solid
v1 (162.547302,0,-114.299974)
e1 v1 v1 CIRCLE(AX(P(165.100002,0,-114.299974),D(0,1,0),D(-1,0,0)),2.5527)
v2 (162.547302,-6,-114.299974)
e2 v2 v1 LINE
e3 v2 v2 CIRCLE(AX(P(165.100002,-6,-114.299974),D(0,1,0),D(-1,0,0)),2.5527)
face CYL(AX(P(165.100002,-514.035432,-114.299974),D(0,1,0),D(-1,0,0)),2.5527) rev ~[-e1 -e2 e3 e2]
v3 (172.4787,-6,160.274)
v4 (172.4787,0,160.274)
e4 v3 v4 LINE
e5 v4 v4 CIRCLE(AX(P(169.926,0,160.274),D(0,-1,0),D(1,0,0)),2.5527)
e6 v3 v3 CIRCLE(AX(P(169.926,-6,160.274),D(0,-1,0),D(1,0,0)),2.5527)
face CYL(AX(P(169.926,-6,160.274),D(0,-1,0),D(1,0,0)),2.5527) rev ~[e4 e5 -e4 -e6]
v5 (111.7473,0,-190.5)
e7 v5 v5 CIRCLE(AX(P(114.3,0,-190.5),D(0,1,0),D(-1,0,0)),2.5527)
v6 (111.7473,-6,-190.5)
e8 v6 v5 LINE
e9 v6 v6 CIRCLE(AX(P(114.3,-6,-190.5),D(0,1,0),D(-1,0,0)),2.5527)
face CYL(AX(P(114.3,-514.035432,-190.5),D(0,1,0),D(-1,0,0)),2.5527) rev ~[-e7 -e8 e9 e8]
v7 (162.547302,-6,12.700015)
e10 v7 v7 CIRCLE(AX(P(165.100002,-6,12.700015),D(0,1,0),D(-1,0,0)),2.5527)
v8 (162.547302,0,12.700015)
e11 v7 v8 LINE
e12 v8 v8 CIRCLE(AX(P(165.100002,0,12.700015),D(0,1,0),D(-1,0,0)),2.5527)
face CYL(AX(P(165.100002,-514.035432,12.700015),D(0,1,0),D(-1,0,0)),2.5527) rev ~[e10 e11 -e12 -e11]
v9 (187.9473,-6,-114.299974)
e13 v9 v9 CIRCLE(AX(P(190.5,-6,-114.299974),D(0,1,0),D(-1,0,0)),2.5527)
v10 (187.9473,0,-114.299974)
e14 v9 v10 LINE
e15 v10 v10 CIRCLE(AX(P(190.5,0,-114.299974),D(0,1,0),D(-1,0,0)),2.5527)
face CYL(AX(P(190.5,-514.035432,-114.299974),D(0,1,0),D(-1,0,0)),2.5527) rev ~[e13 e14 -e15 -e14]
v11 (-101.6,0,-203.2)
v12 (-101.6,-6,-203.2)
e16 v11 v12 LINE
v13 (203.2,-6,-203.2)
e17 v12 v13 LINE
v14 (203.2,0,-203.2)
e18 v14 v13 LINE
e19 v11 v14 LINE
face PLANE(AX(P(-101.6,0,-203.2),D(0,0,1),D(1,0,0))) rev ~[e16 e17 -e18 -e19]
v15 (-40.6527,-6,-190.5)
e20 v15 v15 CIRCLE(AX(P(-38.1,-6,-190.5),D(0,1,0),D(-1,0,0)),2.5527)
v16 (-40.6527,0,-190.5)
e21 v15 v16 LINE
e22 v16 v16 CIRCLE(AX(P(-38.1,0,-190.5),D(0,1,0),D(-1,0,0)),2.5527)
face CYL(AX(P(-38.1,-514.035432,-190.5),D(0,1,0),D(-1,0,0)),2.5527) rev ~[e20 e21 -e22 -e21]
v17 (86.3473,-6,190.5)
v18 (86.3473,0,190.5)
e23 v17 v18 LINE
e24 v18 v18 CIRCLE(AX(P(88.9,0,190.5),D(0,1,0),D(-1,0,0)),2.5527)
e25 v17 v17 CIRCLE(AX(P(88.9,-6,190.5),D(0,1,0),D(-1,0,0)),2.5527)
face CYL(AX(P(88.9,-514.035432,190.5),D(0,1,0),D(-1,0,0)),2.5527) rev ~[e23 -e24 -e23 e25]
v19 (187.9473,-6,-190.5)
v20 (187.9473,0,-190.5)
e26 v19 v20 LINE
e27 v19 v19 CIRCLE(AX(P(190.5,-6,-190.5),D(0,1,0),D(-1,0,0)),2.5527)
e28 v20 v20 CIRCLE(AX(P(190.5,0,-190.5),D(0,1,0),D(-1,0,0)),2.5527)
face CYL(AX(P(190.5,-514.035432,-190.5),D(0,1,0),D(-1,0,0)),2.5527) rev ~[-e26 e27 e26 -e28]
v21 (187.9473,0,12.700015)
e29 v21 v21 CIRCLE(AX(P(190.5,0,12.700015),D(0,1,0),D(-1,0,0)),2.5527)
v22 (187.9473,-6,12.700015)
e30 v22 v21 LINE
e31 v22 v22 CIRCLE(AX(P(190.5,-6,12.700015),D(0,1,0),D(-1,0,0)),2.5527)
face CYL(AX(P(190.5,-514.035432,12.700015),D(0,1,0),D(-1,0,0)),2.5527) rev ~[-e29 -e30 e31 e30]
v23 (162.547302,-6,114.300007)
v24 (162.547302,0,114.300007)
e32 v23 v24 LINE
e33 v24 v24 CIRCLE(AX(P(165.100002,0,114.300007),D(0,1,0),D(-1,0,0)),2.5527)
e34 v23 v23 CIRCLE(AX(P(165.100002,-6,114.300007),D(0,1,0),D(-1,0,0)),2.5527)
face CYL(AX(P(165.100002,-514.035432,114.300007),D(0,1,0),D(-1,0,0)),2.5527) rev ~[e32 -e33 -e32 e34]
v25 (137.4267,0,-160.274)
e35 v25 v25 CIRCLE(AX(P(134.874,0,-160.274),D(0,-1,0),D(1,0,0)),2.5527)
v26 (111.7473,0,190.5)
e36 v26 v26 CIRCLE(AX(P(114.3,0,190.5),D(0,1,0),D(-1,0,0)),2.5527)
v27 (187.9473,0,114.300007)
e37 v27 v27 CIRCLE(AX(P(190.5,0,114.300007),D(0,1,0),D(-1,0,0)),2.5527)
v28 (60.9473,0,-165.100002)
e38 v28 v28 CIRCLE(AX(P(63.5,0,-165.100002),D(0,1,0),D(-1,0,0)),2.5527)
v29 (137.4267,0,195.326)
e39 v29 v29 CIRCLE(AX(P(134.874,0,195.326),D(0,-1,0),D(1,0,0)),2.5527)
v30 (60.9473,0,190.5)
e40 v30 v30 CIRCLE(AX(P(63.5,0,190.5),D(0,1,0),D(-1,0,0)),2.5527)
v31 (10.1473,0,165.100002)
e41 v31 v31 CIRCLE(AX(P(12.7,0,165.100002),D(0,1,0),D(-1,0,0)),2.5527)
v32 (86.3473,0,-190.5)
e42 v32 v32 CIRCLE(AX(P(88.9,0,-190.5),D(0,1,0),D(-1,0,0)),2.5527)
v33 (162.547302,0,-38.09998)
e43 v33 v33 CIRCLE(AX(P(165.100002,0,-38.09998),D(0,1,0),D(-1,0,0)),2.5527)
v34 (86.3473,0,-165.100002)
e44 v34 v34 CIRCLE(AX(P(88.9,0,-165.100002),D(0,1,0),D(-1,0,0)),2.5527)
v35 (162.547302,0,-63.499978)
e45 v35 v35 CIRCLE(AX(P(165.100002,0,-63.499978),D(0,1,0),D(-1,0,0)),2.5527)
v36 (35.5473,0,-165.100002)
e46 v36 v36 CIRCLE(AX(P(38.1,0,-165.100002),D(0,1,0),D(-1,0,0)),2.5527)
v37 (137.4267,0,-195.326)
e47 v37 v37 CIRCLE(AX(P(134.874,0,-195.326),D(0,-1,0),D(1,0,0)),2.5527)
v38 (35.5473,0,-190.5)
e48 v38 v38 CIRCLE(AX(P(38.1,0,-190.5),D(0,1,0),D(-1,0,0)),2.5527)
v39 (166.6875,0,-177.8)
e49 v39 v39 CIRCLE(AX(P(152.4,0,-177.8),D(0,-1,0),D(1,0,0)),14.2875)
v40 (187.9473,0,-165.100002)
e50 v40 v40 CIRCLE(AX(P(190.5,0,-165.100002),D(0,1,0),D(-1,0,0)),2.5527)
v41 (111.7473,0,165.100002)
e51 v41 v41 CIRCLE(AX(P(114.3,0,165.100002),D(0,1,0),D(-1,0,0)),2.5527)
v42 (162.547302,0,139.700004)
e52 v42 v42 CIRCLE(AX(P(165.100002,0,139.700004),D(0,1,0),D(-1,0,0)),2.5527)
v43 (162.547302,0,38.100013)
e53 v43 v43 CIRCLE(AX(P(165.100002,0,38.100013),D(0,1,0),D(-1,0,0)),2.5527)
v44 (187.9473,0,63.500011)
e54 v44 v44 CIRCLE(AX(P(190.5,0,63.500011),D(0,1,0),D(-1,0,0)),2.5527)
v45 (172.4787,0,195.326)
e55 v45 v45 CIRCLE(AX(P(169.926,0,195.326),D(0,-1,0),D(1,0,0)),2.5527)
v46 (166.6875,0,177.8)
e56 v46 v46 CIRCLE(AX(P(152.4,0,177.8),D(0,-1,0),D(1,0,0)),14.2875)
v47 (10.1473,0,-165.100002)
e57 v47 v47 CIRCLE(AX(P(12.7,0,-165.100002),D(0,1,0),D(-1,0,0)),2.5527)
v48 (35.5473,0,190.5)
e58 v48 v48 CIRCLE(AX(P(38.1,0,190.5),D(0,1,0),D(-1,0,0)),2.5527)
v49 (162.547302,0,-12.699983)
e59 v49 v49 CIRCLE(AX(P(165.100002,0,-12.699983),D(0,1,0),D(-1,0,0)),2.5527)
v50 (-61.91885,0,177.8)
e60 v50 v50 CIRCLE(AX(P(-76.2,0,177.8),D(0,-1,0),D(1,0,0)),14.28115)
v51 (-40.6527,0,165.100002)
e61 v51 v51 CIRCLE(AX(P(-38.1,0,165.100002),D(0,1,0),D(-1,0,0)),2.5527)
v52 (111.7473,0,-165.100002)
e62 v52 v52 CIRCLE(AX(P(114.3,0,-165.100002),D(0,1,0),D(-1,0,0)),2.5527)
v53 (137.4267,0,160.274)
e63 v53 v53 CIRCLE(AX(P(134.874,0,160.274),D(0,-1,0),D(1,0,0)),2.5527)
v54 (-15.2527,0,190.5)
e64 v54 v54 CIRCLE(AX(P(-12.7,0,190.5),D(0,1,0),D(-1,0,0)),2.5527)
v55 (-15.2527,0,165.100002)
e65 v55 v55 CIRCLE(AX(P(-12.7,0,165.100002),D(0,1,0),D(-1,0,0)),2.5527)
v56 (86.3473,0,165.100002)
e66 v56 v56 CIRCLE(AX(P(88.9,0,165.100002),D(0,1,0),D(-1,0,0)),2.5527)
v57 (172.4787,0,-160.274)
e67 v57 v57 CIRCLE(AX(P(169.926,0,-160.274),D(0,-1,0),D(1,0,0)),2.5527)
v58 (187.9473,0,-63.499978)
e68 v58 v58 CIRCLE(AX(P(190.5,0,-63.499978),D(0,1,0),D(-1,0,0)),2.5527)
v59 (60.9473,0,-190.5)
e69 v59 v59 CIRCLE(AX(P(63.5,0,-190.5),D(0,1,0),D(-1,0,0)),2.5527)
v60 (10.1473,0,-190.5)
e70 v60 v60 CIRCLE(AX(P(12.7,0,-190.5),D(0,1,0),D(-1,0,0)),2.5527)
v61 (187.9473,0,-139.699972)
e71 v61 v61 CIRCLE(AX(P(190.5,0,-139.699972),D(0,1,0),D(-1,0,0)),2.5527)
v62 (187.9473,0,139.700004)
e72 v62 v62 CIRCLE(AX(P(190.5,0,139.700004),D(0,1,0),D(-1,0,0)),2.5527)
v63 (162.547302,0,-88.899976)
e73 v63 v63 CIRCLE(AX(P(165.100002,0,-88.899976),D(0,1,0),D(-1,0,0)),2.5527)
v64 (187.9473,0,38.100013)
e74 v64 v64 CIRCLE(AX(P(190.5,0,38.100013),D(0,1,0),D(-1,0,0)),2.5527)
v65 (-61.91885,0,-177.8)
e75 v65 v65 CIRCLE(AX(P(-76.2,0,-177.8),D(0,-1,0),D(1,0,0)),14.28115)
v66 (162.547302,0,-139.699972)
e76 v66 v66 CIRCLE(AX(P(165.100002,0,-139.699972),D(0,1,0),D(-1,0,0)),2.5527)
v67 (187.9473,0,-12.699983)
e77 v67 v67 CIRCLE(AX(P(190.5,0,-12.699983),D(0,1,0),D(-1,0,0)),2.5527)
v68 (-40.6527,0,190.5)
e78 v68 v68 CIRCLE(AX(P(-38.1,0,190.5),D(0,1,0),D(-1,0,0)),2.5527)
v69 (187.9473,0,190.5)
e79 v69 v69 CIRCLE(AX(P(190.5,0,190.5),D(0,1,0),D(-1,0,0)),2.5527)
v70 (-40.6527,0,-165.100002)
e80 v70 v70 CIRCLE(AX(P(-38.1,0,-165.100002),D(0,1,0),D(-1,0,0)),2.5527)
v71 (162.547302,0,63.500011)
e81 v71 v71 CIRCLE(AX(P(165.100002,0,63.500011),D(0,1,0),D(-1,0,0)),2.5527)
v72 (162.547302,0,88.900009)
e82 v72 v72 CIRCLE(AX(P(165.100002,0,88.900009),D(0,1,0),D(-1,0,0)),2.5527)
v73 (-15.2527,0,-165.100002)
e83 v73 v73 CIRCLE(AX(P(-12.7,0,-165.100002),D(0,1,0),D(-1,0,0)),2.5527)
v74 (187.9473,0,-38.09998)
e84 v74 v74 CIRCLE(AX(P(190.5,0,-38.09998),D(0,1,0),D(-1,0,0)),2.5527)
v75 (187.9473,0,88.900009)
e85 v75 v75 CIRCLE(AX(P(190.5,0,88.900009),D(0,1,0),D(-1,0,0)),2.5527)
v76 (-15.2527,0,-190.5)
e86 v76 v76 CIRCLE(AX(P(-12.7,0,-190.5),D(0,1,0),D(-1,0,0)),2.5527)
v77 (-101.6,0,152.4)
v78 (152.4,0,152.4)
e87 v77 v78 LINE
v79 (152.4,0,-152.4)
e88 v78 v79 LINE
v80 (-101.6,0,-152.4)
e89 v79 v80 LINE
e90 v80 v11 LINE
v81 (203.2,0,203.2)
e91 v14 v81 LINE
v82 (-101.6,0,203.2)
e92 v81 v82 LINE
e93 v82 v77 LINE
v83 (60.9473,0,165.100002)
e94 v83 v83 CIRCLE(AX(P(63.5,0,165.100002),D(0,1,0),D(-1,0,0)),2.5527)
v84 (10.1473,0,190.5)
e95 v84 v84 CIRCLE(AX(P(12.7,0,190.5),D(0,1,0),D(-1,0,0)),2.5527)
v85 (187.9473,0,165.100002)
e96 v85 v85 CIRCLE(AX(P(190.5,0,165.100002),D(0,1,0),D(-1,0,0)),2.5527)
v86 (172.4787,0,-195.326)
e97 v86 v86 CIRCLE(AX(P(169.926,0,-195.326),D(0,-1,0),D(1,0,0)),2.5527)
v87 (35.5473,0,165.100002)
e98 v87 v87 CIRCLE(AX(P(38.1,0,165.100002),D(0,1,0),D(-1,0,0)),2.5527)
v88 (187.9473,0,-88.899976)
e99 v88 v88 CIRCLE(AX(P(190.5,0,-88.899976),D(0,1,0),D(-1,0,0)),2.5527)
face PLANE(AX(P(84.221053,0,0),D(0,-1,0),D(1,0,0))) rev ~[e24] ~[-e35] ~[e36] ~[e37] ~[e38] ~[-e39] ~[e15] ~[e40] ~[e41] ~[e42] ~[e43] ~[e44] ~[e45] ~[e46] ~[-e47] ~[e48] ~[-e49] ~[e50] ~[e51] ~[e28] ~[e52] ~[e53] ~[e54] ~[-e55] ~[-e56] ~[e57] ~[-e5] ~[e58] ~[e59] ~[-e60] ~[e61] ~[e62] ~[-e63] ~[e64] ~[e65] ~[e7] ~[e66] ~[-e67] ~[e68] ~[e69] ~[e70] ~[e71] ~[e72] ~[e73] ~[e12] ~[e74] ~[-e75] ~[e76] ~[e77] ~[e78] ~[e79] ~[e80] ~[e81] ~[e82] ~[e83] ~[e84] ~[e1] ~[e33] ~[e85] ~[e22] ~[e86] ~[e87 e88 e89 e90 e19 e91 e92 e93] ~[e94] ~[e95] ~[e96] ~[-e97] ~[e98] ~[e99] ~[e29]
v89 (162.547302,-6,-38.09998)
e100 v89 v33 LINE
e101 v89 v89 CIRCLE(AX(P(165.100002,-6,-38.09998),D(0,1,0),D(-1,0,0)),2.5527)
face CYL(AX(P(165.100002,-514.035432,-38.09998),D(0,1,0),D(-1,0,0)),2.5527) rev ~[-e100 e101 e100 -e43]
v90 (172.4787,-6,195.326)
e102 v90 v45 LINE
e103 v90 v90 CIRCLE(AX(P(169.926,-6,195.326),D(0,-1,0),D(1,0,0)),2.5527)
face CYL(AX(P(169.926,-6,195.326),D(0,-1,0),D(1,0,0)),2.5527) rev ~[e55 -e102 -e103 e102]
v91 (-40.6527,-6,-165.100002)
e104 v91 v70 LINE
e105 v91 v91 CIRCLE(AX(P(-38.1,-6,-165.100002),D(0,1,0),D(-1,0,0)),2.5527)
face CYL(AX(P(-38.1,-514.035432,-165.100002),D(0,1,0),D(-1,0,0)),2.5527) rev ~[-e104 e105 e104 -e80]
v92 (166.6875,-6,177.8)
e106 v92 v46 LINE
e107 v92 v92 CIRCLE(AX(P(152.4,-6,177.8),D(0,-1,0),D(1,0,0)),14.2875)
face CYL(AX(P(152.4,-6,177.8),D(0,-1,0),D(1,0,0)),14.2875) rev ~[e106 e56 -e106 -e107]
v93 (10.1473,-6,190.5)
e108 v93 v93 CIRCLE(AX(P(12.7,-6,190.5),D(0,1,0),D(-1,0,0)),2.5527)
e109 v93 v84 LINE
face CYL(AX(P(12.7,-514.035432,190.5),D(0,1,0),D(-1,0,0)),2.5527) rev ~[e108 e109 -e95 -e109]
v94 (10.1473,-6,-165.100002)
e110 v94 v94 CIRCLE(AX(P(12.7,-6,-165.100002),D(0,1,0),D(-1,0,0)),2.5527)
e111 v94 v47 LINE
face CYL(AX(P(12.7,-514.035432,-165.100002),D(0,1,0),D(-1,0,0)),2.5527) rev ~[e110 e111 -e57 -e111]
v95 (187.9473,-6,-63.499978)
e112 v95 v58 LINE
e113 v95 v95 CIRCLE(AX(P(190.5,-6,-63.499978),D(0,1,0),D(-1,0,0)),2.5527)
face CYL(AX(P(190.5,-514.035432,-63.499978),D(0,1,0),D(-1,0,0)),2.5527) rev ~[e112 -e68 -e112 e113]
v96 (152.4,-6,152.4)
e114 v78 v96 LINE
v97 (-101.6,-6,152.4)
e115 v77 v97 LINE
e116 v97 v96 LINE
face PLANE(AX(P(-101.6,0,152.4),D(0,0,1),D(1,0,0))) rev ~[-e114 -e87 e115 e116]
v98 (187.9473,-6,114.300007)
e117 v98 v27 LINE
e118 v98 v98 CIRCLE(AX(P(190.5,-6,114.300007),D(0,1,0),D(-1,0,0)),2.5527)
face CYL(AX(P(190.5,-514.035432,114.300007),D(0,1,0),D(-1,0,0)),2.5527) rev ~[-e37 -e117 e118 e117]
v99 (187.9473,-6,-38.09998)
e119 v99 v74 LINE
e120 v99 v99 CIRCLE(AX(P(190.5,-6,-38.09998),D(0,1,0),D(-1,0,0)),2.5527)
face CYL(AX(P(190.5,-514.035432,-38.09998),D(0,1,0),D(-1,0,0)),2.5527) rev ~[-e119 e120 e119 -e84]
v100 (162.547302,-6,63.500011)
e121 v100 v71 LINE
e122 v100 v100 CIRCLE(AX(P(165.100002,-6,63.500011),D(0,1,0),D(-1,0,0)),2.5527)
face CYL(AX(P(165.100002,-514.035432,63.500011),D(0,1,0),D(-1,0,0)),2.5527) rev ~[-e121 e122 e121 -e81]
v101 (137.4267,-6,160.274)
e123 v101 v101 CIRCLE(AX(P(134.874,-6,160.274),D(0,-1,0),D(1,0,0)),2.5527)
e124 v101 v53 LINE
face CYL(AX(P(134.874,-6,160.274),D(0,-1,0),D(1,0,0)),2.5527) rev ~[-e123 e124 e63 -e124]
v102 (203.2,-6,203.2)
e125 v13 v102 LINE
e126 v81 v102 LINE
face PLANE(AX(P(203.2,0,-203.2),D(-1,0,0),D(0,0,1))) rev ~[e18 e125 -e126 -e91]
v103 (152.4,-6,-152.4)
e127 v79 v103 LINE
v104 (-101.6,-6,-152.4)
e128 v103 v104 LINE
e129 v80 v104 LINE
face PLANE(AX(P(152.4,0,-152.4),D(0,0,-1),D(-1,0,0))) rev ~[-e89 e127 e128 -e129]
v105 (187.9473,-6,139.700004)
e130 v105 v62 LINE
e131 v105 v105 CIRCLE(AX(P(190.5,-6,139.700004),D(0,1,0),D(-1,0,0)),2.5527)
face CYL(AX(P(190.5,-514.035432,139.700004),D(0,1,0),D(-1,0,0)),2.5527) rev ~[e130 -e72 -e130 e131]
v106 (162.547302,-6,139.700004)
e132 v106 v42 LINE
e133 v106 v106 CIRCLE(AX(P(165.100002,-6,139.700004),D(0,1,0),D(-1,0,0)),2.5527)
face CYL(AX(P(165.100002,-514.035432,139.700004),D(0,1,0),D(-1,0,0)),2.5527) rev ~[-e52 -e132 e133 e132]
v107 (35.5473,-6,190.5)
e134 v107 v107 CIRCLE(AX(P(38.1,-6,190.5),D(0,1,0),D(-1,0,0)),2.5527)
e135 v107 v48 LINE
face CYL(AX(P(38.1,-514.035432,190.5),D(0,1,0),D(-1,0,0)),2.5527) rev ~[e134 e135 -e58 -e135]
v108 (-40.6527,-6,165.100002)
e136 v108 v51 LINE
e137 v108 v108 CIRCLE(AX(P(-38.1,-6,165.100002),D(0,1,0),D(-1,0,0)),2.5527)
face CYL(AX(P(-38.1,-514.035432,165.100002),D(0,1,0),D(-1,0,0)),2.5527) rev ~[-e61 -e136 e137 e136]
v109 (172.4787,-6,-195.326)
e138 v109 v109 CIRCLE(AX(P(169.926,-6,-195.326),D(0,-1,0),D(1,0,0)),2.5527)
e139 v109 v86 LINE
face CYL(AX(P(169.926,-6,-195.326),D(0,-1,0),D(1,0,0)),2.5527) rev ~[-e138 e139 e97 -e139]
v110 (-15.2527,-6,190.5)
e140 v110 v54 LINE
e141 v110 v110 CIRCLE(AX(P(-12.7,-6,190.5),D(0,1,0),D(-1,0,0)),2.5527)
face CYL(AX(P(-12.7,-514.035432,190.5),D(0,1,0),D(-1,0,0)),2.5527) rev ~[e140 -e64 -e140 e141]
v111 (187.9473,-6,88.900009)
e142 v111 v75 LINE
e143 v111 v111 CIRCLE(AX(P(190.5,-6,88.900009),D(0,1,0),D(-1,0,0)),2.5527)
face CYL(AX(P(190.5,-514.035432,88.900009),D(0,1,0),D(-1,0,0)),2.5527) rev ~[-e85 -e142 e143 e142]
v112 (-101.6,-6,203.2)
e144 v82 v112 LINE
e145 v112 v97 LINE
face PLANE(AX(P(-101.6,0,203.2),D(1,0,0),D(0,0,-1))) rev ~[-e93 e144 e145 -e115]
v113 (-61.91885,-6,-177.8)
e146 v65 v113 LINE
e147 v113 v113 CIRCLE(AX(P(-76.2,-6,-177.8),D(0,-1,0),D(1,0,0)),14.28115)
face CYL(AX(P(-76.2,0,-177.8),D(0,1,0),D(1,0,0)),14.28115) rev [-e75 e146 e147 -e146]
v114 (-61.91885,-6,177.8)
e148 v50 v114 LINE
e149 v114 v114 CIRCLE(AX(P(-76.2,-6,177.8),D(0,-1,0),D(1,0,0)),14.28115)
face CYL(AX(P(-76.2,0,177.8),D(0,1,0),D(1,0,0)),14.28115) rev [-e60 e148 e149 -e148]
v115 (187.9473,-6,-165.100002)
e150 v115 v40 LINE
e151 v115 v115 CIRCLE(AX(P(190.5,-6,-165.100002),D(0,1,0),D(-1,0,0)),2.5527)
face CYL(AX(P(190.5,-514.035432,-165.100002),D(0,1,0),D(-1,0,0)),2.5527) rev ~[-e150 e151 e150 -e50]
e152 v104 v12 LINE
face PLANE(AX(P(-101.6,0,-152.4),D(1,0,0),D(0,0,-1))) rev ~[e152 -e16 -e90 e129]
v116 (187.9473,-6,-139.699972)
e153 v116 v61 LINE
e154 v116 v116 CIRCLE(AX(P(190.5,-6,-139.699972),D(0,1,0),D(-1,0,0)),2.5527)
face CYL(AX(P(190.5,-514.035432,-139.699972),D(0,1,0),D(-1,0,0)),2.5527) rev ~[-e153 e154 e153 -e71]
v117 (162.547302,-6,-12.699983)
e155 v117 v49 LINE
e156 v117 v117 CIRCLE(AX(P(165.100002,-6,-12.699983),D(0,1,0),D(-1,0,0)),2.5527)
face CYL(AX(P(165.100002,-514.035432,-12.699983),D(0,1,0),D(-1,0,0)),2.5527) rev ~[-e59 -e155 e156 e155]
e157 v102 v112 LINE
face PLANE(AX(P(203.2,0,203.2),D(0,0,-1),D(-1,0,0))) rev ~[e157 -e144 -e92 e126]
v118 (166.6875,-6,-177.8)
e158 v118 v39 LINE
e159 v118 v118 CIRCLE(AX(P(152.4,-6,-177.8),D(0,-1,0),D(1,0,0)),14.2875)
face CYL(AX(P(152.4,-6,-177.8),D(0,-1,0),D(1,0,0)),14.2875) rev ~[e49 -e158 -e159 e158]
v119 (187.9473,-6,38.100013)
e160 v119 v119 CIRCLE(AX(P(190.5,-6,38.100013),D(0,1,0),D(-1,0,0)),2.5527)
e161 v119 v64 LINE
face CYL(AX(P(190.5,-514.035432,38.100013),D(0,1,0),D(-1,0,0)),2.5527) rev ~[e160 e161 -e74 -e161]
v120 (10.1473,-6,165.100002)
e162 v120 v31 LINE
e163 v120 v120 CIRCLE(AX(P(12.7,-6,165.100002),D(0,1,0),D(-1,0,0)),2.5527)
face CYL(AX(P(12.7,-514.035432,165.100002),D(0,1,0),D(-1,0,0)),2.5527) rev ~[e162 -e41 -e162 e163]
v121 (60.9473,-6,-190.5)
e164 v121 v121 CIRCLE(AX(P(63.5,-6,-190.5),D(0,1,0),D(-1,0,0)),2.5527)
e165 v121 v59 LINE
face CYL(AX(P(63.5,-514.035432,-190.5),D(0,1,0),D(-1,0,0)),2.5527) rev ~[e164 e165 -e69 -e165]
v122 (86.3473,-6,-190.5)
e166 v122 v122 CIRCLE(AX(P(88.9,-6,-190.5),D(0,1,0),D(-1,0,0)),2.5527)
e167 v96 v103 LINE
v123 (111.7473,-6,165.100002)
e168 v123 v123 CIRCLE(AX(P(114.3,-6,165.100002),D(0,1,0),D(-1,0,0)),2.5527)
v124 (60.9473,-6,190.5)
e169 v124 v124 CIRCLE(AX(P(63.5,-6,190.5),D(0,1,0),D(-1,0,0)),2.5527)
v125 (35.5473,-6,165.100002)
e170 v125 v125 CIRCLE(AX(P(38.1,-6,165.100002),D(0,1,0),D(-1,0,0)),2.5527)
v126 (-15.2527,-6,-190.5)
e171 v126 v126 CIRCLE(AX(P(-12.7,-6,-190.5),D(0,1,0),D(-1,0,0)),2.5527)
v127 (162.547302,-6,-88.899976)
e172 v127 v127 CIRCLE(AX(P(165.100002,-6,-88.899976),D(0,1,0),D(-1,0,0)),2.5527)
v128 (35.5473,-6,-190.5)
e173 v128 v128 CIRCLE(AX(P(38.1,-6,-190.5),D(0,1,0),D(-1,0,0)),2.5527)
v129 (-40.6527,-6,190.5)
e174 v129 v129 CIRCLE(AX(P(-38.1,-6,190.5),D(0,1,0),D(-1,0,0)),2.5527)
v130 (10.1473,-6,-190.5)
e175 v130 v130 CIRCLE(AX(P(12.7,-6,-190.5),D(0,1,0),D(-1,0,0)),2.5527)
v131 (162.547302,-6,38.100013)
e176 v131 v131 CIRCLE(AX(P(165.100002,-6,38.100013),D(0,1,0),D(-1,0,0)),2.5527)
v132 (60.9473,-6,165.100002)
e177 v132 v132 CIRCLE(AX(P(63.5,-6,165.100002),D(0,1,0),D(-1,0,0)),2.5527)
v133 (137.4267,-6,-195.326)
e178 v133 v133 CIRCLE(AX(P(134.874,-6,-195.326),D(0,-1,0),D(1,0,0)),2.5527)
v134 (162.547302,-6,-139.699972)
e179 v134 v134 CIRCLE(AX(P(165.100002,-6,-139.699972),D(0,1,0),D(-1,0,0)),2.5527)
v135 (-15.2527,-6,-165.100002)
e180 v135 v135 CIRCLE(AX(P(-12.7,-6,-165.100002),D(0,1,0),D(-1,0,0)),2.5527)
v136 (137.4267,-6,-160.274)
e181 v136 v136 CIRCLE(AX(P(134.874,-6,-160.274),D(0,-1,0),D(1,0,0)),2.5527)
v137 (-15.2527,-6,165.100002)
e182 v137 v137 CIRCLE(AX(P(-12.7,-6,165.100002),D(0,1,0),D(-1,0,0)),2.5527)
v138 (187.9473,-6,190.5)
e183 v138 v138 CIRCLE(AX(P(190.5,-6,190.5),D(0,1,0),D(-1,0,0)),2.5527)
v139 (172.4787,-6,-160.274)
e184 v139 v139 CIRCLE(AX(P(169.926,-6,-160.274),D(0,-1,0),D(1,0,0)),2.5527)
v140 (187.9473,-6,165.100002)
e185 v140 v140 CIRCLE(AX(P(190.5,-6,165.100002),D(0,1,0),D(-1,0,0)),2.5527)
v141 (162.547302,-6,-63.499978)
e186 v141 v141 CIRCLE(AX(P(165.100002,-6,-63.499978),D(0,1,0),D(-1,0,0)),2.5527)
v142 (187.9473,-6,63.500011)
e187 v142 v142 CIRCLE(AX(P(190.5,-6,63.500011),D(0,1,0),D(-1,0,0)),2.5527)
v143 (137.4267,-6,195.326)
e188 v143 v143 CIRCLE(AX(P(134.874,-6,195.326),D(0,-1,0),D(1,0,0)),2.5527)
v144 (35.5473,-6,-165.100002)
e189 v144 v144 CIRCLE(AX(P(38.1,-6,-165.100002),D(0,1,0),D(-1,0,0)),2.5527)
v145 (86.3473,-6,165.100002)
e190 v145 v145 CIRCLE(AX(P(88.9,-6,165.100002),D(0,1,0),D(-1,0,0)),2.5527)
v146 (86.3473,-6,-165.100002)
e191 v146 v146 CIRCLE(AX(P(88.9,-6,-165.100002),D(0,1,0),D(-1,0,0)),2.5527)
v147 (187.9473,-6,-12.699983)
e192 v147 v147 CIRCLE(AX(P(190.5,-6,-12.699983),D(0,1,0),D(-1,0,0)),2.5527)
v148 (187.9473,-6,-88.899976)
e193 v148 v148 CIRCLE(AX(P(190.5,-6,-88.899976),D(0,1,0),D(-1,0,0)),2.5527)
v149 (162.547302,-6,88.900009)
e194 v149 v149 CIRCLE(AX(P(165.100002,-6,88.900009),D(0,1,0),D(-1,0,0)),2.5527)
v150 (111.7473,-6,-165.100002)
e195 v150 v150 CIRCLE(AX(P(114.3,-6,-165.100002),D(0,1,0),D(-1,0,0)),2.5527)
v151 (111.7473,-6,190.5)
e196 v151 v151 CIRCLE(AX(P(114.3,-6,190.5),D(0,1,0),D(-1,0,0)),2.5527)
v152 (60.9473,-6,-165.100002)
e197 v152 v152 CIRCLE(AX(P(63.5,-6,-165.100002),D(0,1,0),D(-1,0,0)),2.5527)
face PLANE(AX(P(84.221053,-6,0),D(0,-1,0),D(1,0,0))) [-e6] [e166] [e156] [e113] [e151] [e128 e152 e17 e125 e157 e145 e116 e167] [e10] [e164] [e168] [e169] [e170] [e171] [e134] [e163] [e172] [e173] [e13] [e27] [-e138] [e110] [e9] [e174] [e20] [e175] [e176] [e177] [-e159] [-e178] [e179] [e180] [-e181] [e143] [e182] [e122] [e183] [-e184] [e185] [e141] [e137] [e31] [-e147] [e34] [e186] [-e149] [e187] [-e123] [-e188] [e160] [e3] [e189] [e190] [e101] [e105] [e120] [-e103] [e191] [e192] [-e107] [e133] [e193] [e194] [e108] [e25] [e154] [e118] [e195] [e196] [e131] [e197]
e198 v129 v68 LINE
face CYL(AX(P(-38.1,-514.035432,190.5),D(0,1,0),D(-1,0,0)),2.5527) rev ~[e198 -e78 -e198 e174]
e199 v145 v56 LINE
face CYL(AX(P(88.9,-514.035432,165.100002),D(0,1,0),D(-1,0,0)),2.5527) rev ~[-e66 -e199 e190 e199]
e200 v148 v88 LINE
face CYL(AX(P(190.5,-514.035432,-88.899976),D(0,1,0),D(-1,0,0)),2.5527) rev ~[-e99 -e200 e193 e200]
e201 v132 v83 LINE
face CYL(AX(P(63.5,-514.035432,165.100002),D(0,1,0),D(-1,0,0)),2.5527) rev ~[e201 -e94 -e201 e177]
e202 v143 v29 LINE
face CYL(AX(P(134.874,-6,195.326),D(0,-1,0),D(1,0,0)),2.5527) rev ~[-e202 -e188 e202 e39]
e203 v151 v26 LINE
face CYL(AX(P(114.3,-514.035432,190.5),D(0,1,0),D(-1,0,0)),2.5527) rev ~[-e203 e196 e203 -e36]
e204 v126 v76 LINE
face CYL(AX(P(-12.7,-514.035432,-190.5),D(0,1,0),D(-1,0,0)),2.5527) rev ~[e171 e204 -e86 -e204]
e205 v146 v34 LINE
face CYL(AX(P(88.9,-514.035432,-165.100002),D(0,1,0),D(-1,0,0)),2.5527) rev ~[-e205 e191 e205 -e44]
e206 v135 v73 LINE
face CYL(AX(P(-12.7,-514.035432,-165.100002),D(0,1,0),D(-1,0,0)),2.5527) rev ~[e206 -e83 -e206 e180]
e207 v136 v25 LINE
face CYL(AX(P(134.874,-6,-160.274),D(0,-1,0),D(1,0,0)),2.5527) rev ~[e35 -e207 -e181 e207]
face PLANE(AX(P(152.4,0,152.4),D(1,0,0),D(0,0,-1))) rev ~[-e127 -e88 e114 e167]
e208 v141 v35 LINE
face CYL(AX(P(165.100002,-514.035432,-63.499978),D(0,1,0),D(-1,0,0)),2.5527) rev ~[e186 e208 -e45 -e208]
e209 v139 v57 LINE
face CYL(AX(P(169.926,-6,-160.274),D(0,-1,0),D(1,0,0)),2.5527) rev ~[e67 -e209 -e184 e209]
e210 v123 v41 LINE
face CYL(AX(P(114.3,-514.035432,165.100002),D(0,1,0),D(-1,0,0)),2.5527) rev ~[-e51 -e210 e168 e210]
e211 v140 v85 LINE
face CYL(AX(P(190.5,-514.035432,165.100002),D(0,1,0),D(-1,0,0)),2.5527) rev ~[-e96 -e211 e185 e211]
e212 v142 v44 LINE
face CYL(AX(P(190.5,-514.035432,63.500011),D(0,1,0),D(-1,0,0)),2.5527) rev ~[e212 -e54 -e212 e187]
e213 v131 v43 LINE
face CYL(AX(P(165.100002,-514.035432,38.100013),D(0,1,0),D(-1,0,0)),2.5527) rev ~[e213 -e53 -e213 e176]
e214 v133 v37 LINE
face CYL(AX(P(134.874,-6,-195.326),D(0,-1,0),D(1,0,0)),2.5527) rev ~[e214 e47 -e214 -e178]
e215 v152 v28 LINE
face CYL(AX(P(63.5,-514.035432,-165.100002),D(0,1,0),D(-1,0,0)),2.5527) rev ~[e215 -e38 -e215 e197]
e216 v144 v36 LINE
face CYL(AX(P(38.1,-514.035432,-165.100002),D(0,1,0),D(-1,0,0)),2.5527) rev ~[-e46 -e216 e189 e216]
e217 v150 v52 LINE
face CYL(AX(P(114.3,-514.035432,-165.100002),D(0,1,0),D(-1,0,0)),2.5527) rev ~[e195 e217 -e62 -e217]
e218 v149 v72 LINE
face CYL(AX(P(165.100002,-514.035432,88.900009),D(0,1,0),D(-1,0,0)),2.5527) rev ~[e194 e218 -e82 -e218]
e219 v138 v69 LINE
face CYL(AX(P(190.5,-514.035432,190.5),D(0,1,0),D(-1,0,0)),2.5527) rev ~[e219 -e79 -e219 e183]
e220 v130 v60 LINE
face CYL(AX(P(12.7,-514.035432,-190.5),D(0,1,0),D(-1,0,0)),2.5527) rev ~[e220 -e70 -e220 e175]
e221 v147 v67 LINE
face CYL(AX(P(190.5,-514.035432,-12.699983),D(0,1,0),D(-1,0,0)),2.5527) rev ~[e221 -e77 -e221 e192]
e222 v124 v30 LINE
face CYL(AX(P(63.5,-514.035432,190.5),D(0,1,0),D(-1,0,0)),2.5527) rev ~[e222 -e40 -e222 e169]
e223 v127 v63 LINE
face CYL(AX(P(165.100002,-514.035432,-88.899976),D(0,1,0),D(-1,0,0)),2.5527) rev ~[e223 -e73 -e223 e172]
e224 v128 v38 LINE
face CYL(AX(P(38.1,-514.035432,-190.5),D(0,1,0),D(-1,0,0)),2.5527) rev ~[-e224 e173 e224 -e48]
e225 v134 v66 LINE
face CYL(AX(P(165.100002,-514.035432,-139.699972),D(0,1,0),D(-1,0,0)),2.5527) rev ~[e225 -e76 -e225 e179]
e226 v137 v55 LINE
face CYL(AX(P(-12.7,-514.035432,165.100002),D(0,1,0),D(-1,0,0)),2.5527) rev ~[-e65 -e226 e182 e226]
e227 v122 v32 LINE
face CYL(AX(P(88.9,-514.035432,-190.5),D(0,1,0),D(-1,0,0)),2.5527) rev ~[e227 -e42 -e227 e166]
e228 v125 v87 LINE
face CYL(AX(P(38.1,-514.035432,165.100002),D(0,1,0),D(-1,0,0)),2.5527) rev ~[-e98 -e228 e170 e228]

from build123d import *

# Parameters (mm, degrees)
F0_R     = 14.28115
F1_DEPTH = 6
F2_R     = 14.2875
F2_R_2   = 2.5527
F3_DEPTH = 25.4
F5_D     = 5.1054


with BuildPart() as f1:
    # F0 (on Front) → F1 (new body)
    with BuildSketch(Plane.XZ):
        Polygon((203.2, -152.4), (203.2, 152.4), (203.2, 203.2), (-101.6, 203.2), (-101.6, 152.4), (152.4, 152.4), (152.4, -152.4), (-101.6, -152.4), (-101.6, -203.2), (203.2, -203.2), align=None)
        with Locations((-76.2, -177.8)):
            Circle(F0_R, mode=Mode.SUBTRACT)
        with Locations((-76.2, 177.8)):
            Circle(F0_R, mode=Mode.SUBTRACT)
    extrude(amount=F1_DEPTH)

    # F2 (on face) → F3 (cut)
    with BuildSketch(Plane.XZ.offset(6)):
        with Locations((152.4, 177.8)):
            Circle(F2_R)
        with Locations((169.926, 195.326)):
            Circle(F2_R_2)
        with Locations((169.926, 160.274)):
            Circle(F2_R_2)
        with Locations((134.874, 160.274)):
            Circle(F2_R_2)
        with Locations((134.874, 195.326)):
            Circle(F2_R_2)
        with Locations((134.874, -195.326)):
            Circle(F2_R_2)
        with Locations((134.874, -160.274)):
            Circle(F2_R_2)
        with Locations((169.926, -160.274)):
            Circle(F2_R_2)
        with Locations((152.4, -177.8)):
            Circle(F2_R)
        with Locations((169.926, -195.326)):
            Circle(F2_R_2)
    extrude(amount=-F3_DEPTH, mode=Mode.SUBTRACT)

    # F5 (through all)
    with Locations(Plane.XZ.offset(6)):
        with Locations((114.3, 190.5), (114.3, 165.100002), (88.9, 165.100002), (-38.1, 190.5), (12.7, 190.5), (63.5, 165.100002), (88.9, 190.5), (63.5, 190.5), (-38.1, 165.100002), (38.1, 165.100002), (38.1, 190.5), (-12.7, 190.5), (12.7, 165.100002), (-12.7, 165.100002), (190.5, 165.100002), (190.5, 190.5), (114.3, -165.100002), (-38.1, -190.5), (-12.7, -165.100002), (38.1, -165.100002), (-38.1, -165.100002), (-12.7, -190.5), (88.9, -190.5), (12.7, -190.5), (63.5, -165.100002), (12.7, -165.100002), (114.3, -190.5), (88.9, -165.100002), (38.1, -190.5), (63.5, -190.5), (190.5, -165.100002), (190.5, -190.5), (190.5, 139.700004), (165.100002, 139.700004), (190.5, 114.300007), (165.100002, 114.300007), (190.5, 88.900009), (165.100002, 88.900009), (190.5, 63.500011), (165.100002, 63.500011), (190.5, 38.100013), (165.100002, 38.100013), (190.5, 12.700015), (165.100002, 12.700015), (190.5, -12.699983), (165.100002, -12.699983), (190.5, -38.09998), (165.100002, -38.09998), (190.5, -63.499978), (165.100002, -63.499978), (190.5, -88.899976), (165.100002, -88.899976), (190.5, -114.299974), (165.100002, -114.299974), (190.5, -139.699972), (165.100002, -139.699972)):
            Hole(F5_D / 2)


solid = f1.part
